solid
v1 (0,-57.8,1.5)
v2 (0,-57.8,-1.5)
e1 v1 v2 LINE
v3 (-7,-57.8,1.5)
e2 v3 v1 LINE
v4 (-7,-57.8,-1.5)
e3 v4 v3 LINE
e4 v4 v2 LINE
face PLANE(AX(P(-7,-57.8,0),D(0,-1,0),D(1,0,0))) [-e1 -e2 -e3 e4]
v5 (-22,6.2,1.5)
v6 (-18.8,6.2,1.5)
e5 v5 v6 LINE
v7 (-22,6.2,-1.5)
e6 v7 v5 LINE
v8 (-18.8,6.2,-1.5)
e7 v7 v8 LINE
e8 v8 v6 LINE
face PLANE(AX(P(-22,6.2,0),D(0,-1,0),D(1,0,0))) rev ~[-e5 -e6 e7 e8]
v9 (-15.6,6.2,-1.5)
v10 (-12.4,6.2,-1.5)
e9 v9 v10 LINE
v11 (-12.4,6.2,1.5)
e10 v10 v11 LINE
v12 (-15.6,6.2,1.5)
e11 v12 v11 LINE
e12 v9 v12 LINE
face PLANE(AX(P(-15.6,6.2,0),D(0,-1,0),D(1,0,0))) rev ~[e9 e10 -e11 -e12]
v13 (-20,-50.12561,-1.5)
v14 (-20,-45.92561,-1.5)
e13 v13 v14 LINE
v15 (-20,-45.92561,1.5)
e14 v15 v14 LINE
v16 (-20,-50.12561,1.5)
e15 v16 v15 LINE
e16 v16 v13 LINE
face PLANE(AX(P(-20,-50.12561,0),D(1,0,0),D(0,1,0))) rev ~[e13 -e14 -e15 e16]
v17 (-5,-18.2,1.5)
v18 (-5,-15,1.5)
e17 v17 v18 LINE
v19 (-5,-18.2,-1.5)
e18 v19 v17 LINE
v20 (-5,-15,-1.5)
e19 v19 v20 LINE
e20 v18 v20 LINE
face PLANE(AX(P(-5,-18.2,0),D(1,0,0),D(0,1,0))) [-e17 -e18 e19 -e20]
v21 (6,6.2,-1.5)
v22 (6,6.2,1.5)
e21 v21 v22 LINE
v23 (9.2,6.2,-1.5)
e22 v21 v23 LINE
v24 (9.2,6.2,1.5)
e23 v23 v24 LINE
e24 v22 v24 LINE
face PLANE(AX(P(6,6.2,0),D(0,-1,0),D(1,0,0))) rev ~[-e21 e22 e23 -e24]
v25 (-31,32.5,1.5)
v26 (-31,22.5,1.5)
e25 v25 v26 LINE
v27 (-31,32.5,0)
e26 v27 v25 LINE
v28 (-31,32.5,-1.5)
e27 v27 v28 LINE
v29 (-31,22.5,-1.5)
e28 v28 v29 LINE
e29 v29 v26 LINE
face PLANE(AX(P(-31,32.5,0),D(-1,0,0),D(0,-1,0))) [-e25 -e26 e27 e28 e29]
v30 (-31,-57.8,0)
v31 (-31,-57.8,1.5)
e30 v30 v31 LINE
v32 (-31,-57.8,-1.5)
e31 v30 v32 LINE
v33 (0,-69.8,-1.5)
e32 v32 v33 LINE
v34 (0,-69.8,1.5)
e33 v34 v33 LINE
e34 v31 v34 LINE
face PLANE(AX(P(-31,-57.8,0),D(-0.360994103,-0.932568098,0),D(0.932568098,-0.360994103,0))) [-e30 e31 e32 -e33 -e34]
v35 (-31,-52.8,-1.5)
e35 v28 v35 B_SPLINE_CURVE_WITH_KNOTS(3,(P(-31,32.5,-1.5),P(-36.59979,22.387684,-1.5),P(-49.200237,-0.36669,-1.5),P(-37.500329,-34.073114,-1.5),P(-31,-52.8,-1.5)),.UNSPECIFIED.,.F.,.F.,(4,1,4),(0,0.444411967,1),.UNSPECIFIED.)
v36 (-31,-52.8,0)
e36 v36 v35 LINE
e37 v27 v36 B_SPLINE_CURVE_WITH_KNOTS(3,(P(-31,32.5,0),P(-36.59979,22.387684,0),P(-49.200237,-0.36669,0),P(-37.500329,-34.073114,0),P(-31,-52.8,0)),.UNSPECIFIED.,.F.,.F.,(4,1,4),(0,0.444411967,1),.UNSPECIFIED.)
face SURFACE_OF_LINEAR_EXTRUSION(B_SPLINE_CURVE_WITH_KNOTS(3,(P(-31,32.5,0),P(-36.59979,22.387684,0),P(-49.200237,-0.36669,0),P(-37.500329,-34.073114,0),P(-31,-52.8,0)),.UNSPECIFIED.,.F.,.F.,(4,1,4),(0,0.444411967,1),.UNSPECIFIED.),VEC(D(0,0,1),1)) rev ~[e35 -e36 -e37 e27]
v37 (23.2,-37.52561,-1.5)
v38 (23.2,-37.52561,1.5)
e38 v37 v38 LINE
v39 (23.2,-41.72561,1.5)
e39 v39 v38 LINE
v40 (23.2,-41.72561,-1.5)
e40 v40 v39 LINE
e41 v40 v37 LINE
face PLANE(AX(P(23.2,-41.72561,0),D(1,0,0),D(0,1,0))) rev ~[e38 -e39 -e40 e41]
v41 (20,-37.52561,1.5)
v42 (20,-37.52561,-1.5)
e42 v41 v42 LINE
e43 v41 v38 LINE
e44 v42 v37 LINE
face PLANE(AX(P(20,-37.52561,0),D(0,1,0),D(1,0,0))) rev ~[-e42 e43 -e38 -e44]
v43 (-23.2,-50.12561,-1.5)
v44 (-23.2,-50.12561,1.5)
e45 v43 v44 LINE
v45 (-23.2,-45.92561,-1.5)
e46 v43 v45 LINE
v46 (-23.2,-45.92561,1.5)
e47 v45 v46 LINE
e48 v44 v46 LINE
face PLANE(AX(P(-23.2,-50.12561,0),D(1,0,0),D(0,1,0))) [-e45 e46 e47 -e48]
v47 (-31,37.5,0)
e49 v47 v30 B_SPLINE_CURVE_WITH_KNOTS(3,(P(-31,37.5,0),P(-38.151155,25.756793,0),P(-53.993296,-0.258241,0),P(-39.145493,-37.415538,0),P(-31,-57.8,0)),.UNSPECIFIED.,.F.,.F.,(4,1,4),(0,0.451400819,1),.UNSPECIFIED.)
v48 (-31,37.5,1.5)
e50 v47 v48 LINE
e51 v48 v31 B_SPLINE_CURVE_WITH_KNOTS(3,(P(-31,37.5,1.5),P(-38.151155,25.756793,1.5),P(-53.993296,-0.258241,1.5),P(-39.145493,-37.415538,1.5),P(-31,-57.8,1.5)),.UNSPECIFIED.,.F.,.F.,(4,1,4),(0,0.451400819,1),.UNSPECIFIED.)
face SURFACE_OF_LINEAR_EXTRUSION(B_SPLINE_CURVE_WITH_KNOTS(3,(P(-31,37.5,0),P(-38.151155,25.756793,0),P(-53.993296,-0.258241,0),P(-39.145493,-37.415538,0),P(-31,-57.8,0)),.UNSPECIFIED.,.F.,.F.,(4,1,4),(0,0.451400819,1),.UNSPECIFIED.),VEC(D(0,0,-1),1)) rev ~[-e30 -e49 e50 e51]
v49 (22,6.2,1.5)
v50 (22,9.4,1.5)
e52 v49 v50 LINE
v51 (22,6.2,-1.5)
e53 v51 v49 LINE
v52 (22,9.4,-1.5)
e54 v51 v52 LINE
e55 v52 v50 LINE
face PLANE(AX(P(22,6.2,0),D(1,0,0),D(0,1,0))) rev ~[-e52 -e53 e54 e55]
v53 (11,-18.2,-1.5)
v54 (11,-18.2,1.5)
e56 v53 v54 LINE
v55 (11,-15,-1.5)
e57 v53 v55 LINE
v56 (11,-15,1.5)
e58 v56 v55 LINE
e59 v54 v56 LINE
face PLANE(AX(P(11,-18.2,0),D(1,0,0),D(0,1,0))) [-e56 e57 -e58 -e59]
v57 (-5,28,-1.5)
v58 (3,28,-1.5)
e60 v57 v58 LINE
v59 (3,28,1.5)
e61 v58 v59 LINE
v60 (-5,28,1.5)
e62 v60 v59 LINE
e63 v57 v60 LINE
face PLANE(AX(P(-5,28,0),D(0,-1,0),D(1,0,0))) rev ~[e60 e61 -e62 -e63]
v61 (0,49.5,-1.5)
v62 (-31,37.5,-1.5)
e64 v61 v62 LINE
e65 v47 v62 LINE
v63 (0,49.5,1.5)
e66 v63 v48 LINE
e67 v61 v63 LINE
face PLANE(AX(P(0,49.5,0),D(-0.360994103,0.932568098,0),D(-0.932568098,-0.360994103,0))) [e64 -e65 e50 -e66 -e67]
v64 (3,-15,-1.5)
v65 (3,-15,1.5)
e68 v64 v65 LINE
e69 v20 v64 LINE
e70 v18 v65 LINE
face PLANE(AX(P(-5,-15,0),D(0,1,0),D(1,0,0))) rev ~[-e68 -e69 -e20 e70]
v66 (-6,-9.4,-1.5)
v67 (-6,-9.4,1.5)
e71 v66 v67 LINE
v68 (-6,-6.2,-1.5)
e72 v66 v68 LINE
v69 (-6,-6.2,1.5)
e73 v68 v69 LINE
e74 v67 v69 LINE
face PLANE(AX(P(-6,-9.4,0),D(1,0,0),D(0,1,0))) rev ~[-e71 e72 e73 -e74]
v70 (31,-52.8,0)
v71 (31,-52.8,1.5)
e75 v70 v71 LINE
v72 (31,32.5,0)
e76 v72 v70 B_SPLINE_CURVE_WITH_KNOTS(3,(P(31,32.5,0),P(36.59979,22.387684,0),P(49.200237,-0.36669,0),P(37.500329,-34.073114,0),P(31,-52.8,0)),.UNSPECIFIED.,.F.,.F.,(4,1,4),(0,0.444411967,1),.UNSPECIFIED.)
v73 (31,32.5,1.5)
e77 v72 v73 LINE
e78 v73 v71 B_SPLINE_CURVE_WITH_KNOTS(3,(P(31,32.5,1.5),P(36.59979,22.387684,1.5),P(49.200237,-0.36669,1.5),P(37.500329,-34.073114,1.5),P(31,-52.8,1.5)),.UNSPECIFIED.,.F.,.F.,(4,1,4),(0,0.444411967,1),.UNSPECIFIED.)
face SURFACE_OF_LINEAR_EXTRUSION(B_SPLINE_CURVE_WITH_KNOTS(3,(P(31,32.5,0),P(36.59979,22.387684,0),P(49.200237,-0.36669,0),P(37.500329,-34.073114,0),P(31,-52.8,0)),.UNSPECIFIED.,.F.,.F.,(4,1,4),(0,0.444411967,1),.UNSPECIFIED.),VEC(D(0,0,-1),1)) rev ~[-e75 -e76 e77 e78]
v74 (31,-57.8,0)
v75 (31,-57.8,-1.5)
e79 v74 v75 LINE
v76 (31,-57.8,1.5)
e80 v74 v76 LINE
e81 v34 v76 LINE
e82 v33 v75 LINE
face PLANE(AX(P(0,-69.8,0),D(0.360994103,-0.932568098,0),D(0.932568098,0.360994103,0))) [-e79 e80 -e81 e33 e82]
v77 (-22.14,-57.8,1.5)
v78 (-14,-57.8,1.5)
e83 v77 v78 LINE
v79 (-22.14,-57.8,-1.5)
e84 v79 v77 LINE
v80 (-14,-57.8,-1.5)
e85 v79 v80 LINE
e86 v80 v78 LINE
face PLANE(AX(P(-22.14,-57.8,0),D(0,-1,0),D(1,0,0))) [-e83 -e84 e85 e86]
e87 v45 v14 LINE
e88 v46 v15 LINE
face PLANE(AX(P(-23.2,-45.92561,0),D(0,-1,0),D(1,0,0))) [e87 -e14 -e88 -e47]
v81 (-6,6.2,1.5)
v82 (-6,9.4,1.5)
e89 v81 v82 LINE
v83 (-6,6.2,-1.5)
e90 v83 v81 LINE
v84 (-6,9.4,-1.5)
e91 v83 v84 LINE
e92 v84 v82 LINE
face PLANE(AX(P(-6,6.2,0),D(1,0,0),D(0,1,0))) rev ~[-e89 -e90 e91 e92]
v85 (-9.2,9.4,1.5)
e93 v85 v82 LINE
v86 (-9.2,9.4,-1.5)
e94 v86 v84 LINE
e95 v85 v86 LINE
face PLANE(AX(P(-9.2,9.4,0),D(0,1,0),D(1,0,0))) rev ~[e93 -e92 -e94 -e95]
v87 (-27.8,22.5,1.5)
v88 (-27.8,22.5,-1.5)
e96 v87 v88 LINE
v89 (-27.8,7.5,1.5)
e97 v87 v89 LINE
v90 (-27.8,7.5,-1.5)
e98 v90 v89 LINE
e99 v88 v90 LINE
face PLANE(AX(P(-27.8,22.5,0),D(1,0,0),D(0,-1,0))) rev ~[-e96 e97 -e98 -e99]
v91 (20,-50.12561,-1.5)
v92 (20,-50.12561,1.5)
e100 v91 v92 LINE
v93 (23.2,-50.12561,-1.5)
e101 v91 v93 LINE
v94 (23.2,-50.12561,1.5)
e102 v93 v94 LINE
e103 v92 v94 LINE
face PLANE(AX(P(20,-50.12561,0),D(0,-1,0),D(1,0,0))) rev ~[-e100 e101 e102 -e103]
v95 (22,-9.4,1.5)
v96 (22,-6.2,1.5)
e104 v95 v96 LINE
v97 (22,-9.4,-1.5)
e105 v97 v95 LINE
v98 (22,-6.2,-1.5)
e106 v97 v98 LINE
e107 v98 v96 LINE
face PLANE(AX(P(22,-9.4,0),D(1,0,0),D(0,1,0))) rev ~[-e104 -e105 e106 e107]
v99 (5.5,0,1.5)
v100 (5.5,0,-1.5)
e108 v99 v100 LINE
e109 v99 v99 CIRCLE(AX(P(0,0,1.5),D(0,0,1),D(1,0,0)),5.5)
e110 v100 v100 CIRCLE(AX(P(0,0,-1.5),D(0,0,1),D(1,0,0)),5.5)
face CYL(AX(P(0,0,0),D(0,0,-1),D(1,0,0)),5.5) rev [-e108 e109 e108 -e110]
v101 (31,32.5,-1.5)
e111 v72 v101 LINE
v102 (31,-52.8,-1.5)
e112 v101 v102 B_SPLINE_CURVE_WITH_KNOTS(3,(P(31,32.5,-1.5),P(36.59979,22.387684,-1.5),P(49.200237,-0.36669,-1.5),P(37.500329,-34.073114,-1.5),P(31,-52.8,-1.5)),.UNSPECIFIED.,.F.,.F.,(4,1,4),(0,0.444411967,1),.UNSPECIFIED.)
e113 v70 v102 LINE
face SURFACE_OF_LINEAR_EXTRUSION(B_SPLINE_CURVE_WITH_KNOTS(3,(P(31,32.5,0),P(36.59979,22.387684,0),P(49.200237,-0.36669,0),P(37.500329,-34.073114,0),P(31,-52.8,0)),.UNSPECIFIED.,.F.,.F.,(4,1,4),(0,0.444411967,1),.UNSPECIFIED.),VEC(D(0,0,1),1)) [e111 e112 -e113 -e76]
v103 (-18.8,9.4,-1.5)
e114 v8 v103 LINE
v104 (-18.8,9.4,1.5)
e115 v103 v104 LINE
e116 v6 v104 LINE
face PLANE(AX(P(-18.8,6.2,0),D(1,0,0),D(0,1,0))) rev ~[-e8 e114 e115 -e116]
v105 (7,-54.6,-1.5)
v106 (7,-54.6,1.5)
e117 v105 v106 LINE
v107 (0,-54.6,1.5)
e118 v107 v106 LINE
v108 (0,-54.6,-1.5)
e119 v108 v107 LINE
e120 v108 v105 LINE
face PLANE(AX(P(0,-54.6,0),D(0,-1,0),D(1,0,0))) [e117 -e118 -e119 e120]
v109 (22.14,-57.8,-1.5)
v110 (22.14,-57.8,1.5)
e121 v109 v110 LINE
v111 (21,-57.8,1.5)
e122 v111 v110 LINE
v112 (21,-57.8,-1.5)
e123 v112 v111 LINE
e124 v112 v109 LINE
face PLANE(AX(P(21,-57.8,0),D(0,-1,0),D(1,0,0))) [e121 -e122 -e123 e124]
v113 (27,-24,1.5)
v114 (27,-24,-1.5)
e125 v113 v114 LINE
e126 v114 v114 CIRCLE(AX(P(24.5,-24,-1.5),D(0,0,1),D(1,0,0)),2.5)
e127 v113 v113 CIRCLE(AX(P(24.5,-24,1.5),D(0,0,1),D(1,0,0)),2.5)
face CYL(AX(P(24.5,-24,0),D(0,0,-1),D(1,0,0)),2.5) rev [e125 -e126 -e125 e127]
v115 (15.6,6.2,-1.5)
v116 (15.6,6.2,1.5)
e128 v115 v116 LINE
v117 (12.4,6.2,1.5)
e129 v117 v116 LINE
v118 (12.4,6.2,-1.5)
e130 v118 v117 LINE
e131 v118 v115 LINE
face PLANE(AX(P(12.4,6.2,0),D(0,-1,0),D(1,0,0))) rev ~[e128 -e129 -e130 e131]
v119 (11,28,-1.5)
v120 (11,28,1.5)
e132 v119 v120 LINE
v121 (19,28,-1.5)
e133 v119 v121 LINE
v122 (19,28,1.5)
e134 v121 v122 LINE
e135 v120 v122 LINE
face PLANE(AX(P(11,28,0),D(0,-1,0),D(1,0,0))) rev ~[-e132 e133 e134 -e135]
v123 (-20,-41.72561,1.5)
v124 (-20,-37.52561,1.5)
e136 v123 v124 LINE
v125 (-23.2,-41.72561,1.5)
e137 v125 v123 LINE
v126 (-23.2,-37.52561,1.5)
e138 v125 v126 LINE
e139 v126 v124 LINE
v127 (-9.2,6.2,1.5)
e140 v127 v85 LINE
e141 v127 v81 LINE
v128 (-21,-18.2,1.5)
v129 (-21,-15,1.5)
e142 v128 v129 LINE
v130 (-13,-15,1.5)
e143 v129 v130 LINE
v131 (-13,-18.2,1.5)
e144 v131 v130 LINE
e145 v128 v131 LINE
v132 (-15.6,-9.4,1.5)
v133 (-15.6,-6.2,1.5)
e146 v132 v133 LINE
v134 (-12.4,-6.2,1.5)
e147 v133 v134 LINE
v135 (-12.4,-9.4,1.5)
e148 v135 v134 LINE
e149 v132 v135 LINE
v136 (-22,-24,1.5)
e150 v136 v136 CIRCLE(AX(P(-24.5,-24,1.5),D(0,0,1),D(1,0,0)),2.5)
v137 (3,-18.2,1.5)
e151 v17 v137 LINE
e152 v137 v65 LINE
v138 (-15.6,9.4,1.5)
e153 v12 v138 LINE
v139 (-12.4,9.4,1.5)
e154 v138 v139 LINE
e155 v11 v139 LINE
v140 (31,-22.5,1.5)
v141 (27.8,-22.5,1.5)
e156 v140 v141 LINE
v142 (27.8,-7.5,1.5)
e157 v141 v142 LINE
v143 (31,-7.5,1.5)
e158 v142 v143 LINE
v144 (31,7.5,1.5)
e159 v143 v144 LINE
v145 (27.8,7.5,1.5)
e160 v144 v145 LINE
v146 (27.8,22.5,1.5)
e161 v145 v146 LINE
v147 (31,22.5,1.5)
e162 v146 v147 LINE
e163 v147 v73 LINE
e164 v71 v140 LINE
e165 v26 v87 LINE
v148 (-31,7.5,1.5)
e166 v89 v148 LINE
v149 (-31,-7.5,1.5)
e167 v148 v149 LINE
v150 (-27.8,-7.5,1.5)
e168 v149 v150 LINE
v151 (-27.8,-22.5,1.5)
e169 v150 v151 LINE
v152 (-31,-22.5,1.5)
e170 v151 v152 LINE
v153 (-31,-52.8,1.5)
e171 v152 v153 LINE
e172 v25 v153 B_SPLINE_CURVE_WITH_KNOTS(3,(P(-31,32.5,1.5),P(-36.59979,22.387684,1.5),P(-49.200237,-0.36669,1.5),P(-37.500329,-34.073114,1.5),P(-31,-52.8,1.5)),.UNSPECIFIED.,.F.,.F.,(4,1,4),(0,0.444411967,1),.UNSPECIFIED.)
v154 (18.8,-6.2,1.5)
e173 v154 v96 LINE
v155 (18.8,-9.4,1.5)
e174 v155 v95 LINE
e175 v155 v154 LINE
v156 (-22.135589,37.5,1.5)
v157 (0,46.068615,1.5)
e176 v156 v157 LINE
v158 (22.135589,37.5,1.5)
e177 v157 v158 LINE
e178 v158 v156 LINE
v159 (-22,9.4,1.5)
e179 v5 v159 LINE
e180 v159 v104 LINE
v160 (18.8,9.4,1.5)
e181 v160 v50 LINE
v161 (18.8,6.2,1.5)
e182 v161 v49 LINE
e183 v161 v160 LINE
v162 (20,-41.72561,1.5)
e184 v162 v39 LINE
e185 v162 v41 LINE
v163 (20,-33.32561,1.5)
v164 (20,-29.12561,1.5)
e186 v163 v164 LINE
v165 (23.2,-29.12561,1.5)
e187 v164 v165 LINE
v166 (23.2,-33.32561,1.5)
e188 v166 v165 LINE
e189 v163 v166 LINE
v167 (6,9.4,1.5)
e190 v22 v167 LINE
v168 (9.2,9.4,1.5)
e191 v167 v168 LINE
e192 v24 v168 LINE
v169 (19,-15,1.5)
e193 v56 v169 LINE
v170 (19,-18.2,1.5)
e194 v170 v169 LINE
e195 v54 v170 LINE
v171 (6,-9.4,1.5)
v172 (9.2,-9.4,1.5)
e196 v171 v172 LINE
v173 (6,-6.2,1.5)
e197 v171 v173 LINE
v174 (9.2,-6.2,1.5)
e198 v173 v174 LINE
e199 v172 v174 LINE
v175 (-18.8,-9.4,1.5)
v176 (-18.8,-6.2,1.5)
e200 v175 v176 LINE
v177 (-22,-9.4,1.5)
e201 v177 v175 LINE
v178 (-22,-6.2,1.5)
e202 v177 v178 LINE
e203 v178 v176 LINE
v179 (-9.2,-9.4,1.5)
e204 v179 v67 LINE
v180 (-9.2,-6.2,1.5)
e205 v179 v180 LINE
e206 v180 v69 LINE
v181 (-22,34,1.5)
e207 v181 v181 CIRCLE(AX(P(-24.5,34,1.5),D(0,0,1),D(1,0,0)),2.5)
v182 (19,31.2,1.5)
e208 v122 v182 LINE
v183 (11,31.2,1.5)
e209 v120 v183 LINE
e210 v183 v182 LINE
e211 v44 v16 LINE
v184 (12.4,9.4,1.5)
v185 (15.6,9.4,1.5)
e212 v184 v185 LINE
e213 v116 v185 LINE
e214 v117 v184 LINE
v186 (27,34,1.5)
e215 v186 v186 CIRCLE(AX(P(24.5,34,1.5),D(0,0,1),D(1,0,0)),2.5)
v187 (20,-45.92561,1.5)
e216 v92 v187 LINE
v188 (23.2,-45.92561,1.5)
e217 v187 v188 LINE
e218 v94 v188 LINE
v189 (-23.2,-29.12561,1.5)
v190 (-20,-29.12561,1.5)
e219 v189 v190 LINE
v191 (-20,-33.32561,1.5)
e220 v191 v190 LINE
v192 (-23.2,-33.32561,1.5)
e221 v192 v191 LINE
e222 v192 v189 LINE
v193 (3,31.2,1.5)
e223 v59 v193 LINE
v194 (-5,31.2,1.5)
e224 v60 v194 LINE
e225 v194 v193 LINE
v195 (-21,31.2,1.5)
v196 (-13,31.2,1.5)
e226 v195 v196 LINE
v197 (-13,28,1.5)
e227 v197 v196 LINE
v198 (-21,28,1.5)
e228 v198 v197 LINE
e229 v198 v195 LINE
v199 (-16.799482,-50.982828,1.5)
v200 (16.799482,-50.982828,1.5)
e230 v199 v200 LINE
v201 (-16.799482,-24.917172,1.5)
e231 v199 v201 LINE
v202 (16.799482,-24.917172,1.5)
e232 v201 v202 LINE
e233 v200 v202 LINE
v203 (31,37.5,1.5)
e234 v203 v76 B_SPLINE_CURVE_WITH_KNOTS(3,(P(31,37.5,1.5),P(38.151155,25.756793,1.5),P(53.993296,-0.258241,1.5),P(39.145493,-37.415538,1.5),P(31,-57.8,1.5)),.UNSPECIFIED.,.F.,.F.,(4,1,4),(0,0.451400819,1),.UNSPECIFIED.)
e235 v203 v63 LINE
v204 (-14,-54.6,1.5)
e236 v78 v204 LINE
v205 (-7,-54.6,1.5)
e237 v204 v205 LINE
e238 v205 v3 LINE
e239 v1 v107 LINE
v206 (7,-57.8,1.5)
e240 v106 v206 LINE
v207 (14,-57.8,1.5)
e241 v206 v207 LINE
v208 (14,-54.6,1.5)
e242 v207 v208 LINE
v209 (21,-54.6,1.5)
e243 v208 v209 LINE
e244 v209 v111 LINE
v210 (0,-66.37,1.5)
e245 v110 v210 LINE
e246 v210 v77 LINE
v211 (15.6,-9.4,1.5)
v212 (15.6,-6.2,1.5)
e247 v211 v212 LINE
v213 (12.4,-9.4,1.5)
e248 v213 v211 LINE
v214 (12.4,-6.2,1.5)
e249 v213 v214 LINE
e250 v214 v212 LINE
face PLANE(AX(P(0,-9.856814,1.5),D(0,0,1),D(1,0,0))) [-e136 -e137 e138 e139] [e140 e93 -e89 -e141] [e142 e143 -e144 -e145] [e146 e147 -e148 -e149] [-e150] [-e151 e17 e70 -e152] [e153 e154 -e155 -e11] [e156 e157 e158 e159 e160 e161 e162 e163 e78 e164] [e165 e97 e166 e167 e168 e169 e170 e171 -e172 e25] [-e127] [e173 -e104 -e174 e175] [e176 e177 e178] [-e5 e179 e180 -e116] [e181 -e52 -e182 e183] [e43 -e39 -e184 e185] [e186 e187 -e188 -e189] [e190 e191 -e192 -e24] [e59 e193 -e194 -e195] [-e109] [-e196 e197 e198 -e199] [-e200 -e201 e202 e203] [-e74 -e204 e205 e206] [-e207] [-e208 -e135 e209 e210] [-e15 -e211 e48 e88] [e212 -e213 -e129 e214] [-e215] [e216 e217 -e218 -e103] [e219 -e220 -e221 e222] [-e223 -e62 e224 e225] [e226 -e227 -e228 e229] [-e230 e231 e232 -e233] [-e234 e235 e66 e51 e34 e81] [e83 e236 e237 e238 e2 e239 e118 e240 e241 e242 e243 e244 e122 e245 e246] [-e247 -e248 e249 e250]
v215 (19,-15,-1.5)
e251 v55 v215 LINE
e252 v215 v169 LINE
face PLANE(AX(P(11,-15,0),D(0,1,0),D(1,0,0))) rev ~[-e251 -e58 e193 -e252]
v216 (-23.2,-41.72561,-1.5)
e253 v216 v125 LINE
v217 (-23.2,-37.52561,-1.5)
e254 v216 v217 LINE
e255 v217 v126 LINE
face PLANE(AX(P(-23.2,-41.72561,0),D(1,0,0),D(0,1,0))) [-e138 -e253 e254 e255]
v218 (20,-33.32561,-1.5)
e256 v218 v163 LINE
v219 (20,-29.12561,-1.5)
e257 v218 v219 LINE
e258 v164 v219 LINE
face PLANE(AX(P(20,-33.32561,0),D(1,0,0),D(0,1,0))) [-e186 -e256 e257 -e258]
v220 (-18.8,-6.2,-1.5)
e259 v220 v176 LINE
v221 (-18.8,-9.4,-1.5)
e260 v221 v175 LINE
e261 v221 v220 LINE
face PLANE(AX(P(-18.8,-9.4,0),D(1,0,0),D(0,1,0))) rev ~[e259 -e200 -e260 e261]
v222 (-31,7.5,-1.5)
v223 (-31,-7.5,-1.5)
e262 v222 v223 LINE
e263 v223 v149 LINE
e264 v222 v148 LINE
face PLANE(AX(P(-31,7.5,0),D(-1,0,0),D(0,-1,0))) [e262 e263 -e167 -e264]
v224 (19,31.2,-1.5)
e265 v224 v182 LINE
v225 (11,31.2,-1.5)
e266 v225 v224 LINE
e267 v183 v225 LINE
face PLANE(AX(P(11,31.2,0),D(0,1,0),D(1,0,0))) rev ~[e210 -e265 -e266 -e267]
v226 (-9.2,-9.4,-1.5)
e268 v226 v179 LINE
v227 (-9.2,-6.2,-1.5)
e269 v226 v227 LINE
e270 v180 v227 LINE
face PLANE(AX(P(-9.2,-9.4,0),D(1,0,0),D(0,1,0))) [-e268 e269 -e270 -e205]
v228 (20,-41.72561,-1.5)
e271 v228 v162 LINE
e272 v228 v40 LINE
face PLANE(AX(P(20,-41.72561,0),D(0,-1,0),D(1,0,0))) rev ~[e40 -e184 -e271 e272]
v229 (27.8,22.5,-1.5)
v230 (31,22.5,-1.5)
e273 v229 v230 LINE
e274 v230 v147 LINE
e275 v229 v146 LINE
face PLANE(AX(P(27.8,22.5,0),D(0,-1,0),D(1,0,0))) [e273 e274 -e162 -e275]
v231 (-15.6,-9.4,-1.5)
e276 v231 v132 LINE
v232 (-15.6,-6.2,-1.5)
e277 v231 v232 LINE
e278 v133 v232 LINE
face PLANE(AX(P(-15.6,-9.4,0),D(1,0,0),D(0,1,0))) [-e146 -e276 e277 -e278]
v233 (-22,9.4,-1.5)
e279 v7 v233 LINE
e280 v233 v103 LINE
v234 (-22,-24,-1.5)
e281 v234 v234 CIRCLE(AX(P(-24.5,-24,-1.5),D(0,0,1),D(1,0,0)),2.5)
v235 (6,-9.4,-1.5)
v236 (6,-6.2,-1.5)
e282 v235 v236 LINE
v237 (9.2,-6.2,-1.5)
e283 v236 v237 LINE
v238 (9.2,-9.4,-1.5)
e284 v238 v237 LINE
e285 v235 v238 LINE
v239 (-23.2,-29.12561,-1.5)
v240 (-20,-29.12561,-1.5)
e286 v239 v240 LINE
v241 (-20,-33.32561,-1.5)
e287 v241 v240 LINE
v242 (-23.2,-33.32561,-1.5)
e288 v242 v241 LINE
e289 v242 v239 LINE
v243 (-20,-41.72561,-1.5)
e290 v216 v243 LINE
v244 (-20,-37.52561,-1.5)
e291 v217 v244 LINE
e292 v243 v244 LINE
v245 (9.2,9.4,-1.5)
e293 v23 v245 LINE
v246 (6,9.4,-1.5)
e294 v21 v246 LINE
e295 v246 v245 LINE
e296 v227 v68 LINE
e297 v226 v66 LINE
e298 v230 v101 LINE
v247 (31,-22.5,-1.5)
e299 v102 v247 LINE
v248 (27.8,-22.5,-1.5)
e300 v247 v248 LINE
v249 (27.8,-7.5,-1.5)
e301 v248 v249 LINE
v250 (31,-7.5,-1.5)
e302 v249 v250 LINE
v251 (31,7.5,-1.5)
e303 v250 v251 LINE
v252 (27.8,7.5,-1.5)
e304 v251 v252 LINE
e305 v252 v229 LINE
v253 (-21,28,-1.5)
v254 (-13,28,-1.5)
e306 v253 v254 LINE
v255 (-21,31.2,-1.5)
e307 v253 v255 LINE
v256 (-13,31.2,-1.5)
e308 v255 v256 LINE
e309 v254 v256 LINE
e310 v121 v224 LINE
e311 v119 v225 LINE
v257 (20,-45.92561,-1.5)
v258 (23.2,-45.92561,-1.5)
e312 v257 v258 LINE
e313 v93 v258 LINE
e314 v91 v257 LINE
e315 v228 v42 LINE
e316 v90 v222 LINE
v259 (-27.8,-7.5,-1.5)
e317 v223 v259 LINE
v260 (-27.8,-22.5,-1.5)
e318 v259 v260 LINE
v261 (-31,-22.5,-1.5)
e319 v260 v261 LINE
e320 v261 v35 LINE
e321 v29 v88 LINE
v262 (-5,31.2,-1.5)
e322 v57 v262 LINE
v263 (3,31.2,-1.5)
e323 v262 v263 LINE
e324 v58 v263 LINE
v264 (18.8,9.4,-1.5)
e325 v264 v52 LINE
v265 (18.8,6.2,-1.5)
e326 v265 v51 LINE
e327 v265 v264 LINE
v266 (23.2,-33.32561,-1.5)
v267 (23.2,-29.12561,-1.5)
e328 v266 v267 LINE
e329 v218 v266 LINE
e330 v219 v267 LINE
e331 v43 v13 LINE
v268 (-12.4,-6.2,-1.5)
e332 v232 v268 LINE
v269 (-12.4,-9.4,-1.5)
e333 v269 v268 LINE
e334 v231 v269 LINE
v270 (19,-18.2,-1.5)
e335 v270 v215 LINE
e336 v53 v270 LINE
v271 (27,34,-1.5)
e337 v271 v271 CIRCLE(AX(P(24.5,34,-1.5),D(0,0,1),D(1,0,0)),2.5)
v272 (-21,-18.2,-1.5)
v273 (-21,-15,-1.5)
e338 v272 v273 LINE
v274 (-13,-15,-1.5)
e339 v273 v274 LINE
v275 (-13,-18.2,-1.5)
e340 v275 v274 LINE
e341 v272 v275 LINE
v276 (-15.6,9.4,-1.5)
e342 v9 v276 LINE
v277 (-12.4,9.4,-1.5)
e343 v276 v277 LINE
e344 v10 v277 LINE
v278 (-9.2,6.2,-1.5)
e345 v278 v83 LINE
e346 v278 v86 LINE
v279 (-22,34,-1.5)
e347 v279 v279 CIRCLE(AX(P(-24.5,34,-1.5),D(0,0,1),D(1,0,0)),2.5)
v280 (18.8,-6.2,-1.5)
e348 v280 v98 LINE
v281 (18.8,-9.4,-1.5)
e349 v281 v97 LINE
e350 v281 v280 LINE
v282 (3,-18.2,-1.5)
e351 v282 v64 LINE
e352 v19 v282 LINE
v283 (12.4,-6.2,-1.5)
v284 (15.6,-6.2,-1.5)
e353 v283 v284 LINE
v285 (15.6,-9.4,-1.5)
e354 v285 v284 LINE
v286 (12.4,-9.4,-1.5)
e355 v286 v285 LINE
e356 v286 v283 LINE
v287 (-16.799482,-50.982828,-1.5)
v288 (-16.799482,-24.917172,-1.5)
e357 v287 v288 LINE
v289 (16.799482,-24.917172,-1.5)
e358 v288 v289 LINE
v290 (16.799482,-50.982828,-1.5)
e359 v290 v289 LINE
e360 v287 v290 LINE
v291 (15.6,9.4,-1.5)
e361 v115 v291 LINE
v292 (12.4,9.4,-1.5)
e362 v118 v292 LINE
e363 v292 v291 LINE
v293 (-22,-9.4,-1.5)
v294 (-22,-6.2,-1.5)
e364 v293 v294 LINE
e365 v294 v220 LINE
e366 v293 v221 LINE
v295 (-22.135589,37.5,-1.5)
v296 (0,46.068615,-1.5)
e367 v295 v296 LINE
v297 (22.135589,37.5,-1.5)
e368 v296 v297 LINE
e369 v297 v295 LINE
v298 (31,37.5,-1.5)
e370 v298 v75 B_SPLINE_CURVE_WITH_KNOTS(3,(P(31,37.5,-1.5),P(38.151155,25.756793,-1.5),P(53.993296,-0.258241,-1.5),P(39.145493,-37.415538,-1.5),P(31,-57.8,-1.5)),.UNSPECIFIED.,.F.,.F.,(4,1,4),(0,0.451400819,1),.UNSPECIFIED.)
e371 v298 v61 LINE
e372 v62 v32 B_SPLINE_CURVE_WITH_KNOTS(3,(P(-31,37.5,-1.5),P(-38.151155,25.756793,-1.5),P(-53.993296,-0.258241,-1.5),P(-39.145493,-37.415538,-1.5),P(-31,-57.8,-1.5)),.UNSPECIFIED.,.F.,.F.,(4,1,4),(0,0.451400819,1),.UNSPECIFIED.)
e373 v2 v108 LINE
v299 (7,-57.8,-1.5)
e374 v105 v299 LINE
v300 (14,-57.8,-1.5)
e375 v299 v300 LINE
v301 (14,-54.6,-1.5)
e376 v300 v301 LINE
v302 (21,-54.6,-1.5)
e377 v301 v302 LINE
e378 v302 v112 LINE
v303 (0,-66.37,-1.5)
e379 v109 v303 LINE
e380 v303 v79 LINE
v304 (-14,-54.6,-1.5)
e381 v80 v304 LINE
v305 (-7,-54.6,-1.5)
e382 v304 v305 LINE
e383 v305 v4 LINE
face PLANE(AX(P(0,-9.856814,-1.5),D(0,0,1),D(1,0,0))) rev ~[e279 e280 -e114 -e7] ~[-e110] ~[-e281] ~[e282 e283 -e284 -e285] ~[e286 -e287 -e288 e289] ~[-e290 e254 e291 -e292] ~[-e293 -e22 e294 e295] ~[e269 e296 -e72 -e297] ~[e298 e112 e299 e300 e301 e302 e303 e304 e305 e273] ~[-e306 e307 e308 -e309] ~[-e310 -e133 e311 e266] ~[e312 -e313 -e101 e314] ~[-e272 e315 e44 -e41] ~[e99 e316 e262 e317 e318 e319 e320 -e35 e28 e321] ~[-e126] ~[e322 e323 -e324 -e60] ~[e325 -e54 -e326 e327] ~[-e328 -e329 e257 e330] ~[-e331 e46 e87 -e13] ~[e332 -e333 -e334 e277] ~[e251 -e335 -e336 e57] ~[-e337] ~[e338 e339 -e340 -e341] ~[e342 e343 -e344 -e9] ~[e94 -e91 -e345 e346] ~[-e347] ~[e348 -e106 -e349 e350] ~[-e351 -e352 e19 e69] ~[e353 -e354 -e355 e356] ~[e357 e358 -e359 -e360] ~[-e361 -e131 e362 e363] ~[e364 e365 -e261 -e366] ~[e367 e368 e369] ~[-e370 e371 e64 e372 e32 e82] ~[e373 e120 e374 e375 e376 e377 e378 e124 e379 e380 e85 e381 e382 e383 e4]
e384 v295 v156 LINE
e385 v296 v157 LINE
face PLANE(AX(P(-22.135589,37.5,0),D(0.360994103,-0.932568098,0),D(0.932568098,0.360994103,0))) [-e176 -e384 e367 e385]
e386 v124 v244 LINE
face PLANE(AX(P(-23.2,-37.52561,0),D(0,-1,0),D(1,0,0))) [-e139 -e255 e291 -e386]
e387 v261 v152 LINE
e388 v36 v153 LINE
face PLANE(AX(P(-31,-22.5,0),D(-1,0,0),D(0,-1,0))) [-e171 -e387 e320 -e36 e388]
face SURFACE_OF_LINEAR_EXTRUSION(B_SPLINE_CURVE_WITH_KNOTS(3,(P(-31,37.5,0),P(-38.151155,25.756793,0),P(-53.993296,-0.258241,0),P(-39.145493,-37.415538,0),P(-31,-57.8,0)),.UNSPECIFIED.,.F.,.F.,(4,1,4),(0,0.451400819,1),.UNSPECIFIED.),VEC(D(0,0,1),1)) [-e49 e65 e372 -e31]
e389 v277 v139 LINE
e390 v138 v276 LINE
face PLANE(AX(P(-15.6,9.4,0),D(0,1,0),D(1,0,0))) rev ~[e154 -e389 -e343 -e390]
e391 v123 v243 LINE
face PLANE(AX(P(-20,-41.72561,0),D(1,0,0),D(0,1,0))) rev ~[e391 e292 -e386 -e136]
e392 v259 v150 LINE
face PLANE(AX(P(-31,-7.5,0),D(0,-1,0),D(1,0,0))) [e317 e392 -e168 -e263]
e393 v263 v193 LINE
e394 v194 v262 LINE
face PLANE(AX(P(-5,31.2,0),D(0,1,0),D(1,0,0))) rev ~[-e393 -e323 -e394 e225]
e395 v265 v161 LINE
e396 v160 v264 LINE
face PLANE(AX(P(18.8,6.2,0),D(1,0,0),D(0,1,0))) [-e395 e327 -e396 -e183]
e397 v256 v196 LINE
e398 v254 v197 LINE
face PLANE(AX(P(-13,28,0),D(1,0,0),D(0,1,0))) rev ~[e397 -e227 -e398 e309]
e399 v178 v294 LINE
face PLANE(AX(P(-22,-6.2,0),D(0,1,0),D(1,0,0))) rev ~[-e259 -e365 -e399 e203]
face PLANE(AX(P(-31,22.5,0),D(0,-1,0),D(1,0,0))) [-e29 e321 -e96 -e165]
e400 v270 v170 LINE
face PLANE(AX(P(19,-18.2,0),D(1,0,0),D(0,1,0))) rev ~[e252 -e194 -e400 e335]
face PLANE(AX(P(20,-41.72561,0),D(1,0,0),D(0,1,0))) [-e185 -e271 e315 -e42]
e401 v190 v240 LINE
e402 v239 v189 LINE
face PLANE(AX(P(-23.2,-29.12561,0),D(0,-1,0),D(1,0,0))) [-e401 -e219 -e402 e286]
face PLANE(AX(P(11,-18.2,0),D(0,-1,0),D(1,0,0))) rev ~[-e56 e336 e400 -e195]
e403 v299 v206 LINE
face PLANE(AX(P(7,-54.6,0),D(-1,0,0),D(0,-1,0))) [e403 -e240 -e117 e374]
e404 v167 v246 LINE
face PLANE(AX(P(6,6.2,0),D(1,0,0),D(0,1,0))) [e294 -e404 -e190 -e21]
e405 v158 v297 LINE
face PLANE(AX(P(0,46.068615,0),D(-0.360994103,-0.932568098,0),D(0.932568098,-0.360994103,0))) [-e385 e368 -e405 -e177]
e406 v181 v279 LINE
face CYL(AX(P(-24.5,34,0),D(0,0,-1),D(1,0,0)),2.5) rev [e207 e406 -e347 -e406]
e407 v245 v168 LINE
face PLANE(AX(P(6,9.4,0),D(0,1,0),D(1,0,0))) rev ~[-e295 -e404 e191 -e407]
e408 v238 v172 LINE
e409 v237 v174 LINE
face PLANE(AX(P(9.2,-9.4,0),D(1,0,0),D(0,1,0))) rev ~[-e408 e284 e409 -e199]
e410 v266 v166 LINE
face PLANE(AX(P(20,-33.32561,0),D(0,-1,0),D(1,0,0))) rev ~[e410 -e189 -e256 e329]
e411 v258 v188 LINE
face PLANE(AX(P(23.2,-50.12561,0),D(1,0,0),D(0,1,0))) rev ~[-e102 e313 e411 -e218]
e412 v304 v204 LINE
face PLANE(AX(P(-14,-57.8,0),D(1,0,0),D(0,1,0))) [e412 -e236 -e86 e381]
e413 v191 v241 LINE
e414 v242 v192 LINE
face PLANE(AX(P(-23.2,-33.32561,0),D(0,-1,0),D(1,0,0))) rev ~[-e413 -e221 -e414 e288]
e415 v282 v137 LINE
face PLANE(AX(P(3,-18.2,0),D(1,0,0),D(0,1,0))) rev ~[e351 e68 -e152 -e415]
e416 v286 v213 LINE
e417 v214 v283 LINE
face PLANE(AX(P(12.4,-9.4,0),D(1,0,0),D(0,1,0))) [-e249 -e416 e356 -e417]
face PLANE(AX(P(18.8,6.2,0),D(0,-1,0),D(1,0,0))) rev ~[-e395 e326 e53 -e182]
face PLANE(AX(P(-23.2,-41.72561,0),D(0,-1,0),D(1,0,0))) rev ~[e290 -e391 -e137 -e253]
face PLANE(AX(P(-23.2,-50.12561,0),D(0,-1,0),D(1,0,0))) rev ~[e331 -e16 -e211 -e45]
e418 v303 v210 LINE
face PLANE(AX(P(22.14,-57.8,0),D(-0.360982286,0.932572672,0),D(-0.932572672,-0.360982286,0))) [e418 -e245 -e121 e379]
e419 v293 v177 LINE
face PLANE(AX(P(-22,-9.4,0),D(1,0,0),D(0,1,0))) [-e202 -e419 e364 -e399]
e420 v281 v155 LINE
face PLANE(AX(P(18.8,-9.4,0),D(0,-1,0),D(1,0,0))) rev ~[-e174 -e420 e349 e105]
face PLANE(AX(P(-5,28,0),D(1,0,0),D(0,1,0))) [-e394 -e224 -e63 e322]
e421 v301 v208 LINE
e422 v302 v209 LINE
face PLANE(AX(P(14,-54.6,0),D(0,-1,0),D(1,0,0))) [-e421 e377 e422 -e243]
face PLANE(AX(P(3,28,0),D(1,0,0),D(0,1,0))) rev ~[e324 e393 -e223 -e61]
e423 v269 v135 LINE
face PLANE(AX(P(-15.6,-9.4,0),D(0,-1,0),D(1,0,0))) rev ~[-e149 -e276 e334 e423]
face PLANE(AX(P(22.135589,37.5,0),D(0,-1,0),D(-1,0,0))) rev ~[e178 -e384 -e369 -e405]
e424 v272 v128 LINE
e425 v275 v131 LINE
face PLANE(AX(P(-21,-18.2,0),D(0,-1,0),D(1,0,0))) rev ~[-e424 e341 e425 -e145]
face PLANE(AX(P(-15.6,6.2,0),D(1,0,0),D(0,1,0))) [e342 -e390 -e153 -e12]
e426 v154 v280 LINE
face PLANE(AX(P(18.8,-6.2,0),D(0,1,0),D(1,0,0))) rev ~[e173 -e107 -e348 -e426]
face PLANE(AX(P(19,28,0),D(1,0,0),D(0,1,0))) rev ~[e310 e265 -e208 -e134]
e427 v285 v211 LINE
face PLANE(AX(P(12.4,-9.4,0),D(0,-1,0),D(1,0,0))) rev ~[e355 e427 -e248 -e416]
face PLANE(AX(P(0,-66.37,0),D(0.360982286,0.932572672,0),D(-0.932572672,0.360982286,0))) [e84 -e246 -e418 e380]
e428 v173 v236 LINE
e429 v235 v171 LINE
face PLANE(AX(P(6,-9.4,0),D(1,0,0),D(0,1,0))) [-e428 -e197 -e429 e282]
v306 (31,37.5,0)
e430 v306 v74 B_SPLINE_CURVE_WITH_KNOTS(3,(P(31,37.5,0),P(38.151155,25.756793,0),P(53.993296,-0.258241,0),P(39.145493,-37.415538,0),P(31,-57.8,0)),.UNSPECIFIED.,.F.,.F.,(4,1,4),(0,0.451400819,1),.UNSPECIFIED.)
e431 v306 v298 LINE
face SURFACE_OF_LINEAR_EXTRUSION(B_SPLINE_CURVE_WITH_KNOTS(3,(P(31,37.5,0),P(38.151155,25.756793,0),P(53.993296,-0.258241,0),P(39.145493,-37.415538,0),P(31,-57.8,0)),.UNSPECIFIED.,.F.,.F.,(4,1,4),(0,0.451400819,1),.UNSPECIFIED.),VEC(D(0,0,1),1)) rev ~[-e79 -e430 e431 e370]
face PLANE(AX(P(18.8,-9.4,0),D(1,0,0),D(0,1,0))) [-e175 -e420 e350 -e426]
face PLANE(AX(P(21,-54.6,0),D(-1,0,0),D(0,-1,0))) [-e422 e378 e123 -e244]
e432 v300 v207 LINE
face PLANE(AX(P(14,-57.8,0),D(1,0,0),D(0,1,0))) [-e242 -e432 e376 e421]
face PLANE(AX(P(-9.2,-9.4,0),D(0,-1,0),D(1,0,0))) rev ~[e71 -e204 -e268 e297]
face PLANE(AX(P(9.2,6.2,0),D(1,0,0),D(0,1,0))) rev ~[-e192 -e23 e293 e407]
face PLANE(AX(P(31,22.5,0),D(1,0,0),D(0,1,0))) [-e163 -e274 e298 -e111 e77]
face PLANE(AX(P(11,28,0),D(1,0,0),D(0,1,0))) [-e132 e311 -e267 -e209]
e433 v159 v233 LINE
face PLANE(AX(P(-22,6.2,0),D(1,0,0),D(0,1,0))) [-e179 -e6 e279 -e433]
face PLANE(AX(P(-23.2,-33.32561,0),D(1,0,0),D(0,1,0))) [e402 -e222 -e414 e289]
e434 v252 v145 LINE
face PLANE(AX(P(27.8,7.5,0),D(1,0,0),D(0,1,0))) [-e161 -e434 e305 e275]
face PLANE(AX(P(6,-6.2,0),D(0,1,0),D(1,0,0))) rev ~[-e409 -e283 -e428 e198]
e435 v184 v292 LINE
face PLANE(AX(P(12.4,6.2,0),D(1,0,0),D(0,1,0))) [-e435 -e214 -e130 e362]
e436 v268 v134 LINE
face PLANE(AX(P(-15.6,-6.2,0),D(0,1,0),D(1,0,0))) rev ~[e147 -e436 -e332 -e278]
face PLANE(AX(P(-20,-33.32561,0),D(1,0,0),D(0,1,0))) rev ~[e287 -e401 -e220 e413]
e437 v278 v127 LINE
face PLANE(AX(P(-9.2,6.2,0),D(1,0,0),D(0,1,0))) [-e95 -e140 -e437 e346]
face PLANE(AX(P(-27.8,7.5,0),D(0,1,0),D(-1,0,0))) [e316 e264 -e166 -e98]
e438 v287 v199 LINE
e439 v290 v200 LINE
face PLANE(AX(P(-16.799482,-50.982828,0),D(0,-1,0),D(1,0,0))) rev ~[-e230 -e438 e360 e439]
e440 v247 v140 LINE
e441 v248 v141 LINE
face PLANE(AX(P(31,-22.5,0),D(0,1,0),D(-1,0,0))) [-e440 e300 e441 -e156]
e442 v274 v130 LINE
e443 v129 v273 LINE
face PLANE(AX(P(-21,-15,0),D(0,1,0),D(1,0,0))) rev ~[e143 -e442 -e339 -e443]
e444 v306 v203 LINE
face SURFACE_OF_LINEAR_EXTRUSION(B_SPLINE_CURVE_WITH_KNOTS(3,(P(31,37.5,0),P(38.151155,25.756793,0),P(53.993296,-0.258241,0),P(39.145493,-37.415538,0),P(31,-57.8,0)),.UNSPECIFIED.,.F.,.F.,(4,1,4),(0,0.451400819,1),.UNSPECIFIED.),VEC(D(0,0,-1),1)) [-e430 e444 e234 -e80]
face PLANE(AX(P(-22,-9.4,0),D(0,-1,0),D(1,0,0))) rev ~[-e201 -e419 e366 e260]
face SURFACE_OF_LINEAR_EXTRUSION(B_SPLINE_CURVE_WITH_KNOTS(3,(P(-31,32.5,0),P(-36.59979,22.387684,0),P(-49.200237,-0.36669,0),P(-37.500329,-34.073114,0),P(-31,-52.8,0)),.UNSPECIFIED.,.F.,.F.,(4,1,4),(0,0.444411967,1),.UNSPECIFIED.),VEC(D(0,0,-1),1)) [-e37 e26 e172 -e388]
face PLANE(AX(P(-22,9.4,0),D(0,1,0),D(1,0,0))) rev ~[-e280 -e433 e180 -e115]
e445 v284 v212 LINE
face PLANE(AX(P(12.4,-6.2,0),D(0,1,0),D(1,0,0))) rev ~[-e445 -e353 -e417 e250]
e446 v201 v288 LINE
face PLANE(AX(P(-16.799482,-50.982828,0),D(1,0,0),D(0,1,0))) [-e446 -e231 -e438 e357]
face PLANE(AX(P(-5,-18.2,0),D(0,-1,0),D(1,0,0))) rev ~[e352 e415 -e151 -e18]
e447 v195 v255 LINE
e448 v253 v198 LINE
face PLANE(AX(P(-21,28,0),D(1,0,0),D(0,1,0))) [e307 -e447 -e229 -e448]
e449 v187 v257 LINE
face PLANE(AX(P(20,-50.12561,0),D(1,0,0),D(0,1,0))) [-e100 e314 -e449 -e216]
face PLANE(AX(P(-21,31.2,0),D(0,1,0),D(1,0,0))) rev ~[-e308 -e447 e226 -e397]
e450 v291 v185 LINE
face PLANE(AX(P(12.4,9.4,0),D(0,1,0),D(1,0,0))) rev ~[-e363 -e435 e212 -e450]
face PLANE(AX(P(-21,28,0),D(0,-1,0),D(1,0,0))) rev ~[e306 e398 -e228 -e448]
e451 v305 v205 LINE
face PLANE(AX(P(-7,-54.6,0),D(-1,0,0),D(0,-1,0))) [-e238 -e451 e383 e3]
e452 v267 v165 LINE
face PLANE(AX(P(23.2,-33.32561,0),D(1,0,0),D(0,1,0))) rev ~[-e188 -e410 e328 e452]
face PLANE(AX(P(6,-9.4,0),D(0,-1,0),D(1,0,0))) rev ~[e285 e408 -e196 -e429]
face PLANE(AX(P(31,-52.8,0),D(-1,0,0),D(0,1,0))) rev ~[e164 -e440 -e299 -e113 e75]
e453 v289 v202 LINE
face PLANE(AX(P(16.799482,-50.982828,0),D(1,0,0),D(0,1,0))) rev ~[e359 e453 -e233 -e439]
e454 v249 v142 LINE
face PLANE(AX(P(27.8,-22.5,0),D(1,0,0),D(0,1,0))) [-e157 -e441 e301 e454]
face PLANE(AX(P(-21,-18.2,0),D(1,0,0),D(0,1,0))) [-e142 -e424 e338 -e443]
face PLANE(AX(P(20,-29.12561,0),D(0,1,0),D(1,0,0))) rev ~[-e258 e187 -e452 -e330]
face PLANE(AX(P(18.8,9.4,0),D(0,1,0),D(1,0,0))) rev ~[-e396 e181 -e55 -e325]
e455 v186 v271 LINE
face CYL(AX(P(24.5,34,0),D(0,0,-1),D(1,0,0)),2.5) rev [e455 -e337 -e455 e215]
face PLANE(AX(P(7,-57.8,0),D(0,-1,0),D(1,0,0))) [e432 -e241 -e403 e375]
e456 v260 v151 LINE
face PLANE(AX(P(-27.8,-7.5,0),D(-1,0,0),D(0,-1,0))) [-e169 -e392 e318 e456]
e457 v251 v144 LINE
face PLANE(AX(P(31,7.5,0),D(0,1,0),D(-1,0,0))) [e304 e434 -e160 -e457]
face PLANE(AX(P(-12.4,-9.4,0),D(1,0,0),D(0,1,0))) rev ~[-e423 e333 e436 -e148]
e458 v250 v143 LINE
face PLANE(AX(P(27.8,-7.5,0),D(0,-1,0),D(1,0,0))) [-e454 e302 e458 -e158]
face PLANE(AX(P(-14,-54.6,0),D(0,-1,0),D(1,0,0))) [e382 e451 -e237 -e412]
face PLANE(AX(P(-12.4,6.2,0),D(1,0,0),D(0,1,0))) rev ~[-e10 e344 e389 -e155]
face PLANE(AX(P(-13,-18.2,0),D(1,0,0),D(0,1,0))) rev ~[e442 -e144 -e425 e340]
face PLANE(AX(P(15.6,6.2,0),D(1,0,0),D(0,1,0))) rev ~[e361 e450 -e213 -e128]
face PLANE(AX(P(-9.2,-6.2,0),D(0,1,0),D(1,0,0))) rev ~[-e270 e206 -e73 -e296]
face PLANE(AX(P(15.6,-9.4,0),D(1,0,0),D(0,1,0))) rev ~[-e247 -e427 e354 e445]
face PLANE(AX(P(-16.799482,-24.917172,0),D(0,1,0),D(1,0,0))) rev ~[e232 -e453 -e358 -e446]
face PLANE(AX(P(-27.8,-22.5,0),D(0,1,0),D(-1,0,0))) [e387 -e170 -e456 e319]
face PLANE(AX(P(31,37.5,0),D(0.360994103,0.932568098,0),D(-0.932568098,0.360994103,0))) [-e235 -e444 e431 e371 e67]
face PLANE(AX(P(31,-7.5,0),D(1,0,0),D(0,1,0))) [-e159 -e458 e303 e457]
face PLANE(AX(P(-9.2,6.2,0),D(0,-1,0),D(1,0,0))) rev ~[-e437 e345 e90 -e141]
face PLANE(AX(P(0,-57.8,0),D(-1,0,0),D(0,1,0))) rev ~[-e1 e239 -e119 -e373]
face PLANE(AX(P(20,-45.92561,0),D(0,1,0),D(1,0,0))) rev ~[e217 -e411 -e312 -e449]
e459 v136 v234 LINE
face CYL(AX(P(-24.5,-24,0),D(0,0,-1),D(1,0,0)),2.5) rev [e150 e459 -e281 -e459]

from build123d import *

# Parameters (mm, degrees)
F0_W     = 3.2
F0_H     = 4.2
F0_R     = 2.5
F0_W_2   = 8
F0_H_2   = 3.2
F0_W_3   = 33.5989631712
F0_H_3   = 26.0656554639
F0_R_2   = 5.5
F1_DEPTH = 1.5


with BuildPart() as f1:
    # F0 (on Top) → F1 (new body, symmetric)
    with BuildSketch(Plane.XY):
        with BuildLine():
            Line((0, -69.8), (31, -57.8))
            add(Edge.make_bspline(
                [(31, 37.5), (38.1511552694, 25.7567925156), (53.9932959403, -0.2582411241), (39.1454927008, -37.415537584), (31, -57.8)],
                knots=[0, 0, 0, 0, 0.4514008187, 1, 1, 1, 1], degree=3))
            Line((31, 37.5), (0, 49.5))
            Line((0, 49.5), (-31, 37.5))
            add(Edge.make_bspline(
                [(-31, 37.5), (-38.1511552694, 25.7567925156), (-53.9932959403, -0.2582411241), (-39.1454927008, -37.415537584), (-31, -57.8)],
                knots=[0, 0, 0, 0, 0.4514008187, 1, 1, 1, 1], degree=3))
            Line((-31, -57.8), (0, -69.8))
        make_face()
        with Locations((-21.6, -48.02561)):
            Rectangle(F0_W, F0_H, mode=Mode.SUBTRACT)
        with Locations((-21.6, -39.62561)):
            Rectangle(F0_W, F0_H, mode=Mode.SUBTRACT)
        with Locations((-21.6, -31.22561)):
            Rectangle(F0_W, F0_H, mode=Mode.SUBTRACT)
        with Locations((-24.5, -24)):
            Circle(F0_R, mode=Mode.SUBTRACT)
        with Locations((-17, -16.6)):
            Rectangle(F0_W_2, F0_H_2, mode=Mode.SUBTRACT)
        with Locations((-1, -16.6)):
            Rectangle(F0_W_2, F0_H_2, mode=Mode.SUBTRACT)
        Polygon((0, -66.37), (-22.14, -57.8), (-14, -57.8), (-14, -54.6), (-7, -54.6), (-7, -57.8), (0, -57.8), (0, -54.6), (7, -54.6), (7, -57.8), (14, -57.8), (14, -54.6), (21, -54.6), (21, -57.8), (22.14, -57.8), align=None, mode=Mode.SUBTRACT)
        with Locations((21.6, -48.02561)):
            Rectangle(F0_W, F0_H, mode=Mode.SUBTRACT)
        with Locations((0, -37.95)):
            Rectangle(F0_W_3, F0_H_3, mode=Mode.SUBTRACT)
        with Locations((21.6, -39.62561)):
            Rectangle(F0_W, F0_H, mode=Mode.SUBTRACT)
        with Locations((21.6, -31.22561)):
            Rectangle(F0_W, F0_H, mode=Mode.SUBTRACT)
        with Locations((24.5, -24)):
            Circle(F0_R, mode=Mode.SUBTRACT)
        with Locations((15, -16.6)):
            Rectangle(F0_W_2, F0_H_2, mode=Mode.SUBTRACT)
        with BuildLine():
            Line((-31, -22.5), (-31, -32.5))
            Line((-31, -32.5), (-31, -52.8))
            add(Edge.make_bspline(
                [(-31, 32.5), (-36.5997895584, 22.3876839263), (-49.2002368333, -0.3666899989), (-37.5003288582, -34.0731141218), (-31, -52.8)],
                knots=[0, 0, 0, 0, 0.444411967, 1, 1, 1, 1], degree=3))
            Line((-31, 32.5), (-31, 22.5))
            Line((-31, 22.5), (-27.8, 22.5))
            Line((-27.8, 22.5), (-27.8, 7.5))
            Line((-27.8, 7.5), (-31, 7.5))
            Line((-31, 7.5), (-31, -7.5))
            Line((-31, -7.5), (-27.8, -7.5))
            Line((-27.8, -7.5), (-27.8, -22.5))
            Line((-27.8, -22.5), (-31, -22.5))
        make_face(mode=Mode.SUBTRACT)
        with Locations((-20.4, -7.8)):
            Rectangle(F0_W, F0_H_2, mode=Mode.SUBTRACT)
        with Locations((-14, -7.8)):
            Rectangle(F0_W, F0_H_2, mode=Mode.SUBTRACT)
        with Locations((-7.6, -7.8)):
            Rectangle(F0_W, F0_H_2, mode=Mode.SUBTRACT)
        with Locations((-20.4, 7.8)):
            Rectangle(F0_W, F0_H_2, mode=Mode.SUBTRACT)
        with Locations((-14, 7.8)):
            Rectangle(F0_W, F0_H_2, mode=Mode.SUBTRACT)
        with Locations((-7.6, 7.8)):
            Rectangle(F0_W, F0_H_2, mode=Mode.SUBTRACT)
        with Locations((-24.5, 34)):
            Circle(F0_R, mode=Mode.SUBTRACT)
        with Locations((-17, 29.6)):
            Rectangle(F0_W_2, F0_H_2, mode=Mode.SUBTRACT)
        with Locations((-1, 29.6)):
            Rectangle(F0_W_2, F0_H_2, mode=Mode.SUBTRACT)
        Polygon((22.1355892594, 37.5), (0, 37.5), (-22.1355892594, 37.5), (0, 46.0686151972), align=None, mode=Mode.SUBTRACT)
        with Locations((7.6, -7.8)):
            Rectangle(F0_W, F0_H_2, mode=Mode.SUBTRACT)
        Circle(F0_R_2, mode=Mode.SUBTRACT)
        with Locations((14, -7.8)):
            Rectangle(F0_W, F0_H_2, mode=Mode.SUBTRACT)
        with Locations((20.4, -7.8)):
            Rectangle(F0_W, F0_H_2, mode=Mode.SUBTRACT)
        with Locations((7.6, 7.8)):
            Rectangle(F0_W, F0_H_2, mode=Mode.SUBTRACT)
        with Locations((14, 7.8)):
            Rectangle(F0_W, F0_H_2, mode=Mode.SUBTRACT)
        with Locations((20.4, 7.8)):
            Rectangle(F0_W, F0_H_2, mode=Mode.SUBTRACT)
        with BuildLine():
            Line((27.8, 7.5), (27.8, 22.5))
            Line((27.8, 22.5), (31, 22.5))
            Line((31, 22.5), (31, 32.5))
            add(Edge.make_bspline(
                [(31, 32.5), (36.5997895584, 22.3876839263), (49.2002368333, -0.3666899989), (37.5003288582, -34.0731141218), (31, -52.8)],
                knots=[0, 0, 0, 0, 0.444411967, 1, 1, 1, 1], degree=3))
            Line((31, -52.8), (31, -32.5))
            Line((31, -32.5), (31, -22.5))
            Line((31, -22.5), (27.8, -22.5))
            Line((27.8, -22.5), (27.8, -7.5))
            Line((27.8, -7.5), (31, -7.5))
            Line((31, -7.5), (31, 7.5))
            Line((31, 7.5), (27.8, 7.5))
        make_face(mode=Mode.SUBTRACT)
        with Locations((15, 29.6)):
            Rectangle(F0_W_2, F0_H_2, mode=Mode.SUBTRACT)
        with Locations((24.5, 34)):
            Circle(F0_R, mode=Mode.SUBTRACT)
    extrude(amount=F1_DEPTH, both=True)


solid = f1.part
